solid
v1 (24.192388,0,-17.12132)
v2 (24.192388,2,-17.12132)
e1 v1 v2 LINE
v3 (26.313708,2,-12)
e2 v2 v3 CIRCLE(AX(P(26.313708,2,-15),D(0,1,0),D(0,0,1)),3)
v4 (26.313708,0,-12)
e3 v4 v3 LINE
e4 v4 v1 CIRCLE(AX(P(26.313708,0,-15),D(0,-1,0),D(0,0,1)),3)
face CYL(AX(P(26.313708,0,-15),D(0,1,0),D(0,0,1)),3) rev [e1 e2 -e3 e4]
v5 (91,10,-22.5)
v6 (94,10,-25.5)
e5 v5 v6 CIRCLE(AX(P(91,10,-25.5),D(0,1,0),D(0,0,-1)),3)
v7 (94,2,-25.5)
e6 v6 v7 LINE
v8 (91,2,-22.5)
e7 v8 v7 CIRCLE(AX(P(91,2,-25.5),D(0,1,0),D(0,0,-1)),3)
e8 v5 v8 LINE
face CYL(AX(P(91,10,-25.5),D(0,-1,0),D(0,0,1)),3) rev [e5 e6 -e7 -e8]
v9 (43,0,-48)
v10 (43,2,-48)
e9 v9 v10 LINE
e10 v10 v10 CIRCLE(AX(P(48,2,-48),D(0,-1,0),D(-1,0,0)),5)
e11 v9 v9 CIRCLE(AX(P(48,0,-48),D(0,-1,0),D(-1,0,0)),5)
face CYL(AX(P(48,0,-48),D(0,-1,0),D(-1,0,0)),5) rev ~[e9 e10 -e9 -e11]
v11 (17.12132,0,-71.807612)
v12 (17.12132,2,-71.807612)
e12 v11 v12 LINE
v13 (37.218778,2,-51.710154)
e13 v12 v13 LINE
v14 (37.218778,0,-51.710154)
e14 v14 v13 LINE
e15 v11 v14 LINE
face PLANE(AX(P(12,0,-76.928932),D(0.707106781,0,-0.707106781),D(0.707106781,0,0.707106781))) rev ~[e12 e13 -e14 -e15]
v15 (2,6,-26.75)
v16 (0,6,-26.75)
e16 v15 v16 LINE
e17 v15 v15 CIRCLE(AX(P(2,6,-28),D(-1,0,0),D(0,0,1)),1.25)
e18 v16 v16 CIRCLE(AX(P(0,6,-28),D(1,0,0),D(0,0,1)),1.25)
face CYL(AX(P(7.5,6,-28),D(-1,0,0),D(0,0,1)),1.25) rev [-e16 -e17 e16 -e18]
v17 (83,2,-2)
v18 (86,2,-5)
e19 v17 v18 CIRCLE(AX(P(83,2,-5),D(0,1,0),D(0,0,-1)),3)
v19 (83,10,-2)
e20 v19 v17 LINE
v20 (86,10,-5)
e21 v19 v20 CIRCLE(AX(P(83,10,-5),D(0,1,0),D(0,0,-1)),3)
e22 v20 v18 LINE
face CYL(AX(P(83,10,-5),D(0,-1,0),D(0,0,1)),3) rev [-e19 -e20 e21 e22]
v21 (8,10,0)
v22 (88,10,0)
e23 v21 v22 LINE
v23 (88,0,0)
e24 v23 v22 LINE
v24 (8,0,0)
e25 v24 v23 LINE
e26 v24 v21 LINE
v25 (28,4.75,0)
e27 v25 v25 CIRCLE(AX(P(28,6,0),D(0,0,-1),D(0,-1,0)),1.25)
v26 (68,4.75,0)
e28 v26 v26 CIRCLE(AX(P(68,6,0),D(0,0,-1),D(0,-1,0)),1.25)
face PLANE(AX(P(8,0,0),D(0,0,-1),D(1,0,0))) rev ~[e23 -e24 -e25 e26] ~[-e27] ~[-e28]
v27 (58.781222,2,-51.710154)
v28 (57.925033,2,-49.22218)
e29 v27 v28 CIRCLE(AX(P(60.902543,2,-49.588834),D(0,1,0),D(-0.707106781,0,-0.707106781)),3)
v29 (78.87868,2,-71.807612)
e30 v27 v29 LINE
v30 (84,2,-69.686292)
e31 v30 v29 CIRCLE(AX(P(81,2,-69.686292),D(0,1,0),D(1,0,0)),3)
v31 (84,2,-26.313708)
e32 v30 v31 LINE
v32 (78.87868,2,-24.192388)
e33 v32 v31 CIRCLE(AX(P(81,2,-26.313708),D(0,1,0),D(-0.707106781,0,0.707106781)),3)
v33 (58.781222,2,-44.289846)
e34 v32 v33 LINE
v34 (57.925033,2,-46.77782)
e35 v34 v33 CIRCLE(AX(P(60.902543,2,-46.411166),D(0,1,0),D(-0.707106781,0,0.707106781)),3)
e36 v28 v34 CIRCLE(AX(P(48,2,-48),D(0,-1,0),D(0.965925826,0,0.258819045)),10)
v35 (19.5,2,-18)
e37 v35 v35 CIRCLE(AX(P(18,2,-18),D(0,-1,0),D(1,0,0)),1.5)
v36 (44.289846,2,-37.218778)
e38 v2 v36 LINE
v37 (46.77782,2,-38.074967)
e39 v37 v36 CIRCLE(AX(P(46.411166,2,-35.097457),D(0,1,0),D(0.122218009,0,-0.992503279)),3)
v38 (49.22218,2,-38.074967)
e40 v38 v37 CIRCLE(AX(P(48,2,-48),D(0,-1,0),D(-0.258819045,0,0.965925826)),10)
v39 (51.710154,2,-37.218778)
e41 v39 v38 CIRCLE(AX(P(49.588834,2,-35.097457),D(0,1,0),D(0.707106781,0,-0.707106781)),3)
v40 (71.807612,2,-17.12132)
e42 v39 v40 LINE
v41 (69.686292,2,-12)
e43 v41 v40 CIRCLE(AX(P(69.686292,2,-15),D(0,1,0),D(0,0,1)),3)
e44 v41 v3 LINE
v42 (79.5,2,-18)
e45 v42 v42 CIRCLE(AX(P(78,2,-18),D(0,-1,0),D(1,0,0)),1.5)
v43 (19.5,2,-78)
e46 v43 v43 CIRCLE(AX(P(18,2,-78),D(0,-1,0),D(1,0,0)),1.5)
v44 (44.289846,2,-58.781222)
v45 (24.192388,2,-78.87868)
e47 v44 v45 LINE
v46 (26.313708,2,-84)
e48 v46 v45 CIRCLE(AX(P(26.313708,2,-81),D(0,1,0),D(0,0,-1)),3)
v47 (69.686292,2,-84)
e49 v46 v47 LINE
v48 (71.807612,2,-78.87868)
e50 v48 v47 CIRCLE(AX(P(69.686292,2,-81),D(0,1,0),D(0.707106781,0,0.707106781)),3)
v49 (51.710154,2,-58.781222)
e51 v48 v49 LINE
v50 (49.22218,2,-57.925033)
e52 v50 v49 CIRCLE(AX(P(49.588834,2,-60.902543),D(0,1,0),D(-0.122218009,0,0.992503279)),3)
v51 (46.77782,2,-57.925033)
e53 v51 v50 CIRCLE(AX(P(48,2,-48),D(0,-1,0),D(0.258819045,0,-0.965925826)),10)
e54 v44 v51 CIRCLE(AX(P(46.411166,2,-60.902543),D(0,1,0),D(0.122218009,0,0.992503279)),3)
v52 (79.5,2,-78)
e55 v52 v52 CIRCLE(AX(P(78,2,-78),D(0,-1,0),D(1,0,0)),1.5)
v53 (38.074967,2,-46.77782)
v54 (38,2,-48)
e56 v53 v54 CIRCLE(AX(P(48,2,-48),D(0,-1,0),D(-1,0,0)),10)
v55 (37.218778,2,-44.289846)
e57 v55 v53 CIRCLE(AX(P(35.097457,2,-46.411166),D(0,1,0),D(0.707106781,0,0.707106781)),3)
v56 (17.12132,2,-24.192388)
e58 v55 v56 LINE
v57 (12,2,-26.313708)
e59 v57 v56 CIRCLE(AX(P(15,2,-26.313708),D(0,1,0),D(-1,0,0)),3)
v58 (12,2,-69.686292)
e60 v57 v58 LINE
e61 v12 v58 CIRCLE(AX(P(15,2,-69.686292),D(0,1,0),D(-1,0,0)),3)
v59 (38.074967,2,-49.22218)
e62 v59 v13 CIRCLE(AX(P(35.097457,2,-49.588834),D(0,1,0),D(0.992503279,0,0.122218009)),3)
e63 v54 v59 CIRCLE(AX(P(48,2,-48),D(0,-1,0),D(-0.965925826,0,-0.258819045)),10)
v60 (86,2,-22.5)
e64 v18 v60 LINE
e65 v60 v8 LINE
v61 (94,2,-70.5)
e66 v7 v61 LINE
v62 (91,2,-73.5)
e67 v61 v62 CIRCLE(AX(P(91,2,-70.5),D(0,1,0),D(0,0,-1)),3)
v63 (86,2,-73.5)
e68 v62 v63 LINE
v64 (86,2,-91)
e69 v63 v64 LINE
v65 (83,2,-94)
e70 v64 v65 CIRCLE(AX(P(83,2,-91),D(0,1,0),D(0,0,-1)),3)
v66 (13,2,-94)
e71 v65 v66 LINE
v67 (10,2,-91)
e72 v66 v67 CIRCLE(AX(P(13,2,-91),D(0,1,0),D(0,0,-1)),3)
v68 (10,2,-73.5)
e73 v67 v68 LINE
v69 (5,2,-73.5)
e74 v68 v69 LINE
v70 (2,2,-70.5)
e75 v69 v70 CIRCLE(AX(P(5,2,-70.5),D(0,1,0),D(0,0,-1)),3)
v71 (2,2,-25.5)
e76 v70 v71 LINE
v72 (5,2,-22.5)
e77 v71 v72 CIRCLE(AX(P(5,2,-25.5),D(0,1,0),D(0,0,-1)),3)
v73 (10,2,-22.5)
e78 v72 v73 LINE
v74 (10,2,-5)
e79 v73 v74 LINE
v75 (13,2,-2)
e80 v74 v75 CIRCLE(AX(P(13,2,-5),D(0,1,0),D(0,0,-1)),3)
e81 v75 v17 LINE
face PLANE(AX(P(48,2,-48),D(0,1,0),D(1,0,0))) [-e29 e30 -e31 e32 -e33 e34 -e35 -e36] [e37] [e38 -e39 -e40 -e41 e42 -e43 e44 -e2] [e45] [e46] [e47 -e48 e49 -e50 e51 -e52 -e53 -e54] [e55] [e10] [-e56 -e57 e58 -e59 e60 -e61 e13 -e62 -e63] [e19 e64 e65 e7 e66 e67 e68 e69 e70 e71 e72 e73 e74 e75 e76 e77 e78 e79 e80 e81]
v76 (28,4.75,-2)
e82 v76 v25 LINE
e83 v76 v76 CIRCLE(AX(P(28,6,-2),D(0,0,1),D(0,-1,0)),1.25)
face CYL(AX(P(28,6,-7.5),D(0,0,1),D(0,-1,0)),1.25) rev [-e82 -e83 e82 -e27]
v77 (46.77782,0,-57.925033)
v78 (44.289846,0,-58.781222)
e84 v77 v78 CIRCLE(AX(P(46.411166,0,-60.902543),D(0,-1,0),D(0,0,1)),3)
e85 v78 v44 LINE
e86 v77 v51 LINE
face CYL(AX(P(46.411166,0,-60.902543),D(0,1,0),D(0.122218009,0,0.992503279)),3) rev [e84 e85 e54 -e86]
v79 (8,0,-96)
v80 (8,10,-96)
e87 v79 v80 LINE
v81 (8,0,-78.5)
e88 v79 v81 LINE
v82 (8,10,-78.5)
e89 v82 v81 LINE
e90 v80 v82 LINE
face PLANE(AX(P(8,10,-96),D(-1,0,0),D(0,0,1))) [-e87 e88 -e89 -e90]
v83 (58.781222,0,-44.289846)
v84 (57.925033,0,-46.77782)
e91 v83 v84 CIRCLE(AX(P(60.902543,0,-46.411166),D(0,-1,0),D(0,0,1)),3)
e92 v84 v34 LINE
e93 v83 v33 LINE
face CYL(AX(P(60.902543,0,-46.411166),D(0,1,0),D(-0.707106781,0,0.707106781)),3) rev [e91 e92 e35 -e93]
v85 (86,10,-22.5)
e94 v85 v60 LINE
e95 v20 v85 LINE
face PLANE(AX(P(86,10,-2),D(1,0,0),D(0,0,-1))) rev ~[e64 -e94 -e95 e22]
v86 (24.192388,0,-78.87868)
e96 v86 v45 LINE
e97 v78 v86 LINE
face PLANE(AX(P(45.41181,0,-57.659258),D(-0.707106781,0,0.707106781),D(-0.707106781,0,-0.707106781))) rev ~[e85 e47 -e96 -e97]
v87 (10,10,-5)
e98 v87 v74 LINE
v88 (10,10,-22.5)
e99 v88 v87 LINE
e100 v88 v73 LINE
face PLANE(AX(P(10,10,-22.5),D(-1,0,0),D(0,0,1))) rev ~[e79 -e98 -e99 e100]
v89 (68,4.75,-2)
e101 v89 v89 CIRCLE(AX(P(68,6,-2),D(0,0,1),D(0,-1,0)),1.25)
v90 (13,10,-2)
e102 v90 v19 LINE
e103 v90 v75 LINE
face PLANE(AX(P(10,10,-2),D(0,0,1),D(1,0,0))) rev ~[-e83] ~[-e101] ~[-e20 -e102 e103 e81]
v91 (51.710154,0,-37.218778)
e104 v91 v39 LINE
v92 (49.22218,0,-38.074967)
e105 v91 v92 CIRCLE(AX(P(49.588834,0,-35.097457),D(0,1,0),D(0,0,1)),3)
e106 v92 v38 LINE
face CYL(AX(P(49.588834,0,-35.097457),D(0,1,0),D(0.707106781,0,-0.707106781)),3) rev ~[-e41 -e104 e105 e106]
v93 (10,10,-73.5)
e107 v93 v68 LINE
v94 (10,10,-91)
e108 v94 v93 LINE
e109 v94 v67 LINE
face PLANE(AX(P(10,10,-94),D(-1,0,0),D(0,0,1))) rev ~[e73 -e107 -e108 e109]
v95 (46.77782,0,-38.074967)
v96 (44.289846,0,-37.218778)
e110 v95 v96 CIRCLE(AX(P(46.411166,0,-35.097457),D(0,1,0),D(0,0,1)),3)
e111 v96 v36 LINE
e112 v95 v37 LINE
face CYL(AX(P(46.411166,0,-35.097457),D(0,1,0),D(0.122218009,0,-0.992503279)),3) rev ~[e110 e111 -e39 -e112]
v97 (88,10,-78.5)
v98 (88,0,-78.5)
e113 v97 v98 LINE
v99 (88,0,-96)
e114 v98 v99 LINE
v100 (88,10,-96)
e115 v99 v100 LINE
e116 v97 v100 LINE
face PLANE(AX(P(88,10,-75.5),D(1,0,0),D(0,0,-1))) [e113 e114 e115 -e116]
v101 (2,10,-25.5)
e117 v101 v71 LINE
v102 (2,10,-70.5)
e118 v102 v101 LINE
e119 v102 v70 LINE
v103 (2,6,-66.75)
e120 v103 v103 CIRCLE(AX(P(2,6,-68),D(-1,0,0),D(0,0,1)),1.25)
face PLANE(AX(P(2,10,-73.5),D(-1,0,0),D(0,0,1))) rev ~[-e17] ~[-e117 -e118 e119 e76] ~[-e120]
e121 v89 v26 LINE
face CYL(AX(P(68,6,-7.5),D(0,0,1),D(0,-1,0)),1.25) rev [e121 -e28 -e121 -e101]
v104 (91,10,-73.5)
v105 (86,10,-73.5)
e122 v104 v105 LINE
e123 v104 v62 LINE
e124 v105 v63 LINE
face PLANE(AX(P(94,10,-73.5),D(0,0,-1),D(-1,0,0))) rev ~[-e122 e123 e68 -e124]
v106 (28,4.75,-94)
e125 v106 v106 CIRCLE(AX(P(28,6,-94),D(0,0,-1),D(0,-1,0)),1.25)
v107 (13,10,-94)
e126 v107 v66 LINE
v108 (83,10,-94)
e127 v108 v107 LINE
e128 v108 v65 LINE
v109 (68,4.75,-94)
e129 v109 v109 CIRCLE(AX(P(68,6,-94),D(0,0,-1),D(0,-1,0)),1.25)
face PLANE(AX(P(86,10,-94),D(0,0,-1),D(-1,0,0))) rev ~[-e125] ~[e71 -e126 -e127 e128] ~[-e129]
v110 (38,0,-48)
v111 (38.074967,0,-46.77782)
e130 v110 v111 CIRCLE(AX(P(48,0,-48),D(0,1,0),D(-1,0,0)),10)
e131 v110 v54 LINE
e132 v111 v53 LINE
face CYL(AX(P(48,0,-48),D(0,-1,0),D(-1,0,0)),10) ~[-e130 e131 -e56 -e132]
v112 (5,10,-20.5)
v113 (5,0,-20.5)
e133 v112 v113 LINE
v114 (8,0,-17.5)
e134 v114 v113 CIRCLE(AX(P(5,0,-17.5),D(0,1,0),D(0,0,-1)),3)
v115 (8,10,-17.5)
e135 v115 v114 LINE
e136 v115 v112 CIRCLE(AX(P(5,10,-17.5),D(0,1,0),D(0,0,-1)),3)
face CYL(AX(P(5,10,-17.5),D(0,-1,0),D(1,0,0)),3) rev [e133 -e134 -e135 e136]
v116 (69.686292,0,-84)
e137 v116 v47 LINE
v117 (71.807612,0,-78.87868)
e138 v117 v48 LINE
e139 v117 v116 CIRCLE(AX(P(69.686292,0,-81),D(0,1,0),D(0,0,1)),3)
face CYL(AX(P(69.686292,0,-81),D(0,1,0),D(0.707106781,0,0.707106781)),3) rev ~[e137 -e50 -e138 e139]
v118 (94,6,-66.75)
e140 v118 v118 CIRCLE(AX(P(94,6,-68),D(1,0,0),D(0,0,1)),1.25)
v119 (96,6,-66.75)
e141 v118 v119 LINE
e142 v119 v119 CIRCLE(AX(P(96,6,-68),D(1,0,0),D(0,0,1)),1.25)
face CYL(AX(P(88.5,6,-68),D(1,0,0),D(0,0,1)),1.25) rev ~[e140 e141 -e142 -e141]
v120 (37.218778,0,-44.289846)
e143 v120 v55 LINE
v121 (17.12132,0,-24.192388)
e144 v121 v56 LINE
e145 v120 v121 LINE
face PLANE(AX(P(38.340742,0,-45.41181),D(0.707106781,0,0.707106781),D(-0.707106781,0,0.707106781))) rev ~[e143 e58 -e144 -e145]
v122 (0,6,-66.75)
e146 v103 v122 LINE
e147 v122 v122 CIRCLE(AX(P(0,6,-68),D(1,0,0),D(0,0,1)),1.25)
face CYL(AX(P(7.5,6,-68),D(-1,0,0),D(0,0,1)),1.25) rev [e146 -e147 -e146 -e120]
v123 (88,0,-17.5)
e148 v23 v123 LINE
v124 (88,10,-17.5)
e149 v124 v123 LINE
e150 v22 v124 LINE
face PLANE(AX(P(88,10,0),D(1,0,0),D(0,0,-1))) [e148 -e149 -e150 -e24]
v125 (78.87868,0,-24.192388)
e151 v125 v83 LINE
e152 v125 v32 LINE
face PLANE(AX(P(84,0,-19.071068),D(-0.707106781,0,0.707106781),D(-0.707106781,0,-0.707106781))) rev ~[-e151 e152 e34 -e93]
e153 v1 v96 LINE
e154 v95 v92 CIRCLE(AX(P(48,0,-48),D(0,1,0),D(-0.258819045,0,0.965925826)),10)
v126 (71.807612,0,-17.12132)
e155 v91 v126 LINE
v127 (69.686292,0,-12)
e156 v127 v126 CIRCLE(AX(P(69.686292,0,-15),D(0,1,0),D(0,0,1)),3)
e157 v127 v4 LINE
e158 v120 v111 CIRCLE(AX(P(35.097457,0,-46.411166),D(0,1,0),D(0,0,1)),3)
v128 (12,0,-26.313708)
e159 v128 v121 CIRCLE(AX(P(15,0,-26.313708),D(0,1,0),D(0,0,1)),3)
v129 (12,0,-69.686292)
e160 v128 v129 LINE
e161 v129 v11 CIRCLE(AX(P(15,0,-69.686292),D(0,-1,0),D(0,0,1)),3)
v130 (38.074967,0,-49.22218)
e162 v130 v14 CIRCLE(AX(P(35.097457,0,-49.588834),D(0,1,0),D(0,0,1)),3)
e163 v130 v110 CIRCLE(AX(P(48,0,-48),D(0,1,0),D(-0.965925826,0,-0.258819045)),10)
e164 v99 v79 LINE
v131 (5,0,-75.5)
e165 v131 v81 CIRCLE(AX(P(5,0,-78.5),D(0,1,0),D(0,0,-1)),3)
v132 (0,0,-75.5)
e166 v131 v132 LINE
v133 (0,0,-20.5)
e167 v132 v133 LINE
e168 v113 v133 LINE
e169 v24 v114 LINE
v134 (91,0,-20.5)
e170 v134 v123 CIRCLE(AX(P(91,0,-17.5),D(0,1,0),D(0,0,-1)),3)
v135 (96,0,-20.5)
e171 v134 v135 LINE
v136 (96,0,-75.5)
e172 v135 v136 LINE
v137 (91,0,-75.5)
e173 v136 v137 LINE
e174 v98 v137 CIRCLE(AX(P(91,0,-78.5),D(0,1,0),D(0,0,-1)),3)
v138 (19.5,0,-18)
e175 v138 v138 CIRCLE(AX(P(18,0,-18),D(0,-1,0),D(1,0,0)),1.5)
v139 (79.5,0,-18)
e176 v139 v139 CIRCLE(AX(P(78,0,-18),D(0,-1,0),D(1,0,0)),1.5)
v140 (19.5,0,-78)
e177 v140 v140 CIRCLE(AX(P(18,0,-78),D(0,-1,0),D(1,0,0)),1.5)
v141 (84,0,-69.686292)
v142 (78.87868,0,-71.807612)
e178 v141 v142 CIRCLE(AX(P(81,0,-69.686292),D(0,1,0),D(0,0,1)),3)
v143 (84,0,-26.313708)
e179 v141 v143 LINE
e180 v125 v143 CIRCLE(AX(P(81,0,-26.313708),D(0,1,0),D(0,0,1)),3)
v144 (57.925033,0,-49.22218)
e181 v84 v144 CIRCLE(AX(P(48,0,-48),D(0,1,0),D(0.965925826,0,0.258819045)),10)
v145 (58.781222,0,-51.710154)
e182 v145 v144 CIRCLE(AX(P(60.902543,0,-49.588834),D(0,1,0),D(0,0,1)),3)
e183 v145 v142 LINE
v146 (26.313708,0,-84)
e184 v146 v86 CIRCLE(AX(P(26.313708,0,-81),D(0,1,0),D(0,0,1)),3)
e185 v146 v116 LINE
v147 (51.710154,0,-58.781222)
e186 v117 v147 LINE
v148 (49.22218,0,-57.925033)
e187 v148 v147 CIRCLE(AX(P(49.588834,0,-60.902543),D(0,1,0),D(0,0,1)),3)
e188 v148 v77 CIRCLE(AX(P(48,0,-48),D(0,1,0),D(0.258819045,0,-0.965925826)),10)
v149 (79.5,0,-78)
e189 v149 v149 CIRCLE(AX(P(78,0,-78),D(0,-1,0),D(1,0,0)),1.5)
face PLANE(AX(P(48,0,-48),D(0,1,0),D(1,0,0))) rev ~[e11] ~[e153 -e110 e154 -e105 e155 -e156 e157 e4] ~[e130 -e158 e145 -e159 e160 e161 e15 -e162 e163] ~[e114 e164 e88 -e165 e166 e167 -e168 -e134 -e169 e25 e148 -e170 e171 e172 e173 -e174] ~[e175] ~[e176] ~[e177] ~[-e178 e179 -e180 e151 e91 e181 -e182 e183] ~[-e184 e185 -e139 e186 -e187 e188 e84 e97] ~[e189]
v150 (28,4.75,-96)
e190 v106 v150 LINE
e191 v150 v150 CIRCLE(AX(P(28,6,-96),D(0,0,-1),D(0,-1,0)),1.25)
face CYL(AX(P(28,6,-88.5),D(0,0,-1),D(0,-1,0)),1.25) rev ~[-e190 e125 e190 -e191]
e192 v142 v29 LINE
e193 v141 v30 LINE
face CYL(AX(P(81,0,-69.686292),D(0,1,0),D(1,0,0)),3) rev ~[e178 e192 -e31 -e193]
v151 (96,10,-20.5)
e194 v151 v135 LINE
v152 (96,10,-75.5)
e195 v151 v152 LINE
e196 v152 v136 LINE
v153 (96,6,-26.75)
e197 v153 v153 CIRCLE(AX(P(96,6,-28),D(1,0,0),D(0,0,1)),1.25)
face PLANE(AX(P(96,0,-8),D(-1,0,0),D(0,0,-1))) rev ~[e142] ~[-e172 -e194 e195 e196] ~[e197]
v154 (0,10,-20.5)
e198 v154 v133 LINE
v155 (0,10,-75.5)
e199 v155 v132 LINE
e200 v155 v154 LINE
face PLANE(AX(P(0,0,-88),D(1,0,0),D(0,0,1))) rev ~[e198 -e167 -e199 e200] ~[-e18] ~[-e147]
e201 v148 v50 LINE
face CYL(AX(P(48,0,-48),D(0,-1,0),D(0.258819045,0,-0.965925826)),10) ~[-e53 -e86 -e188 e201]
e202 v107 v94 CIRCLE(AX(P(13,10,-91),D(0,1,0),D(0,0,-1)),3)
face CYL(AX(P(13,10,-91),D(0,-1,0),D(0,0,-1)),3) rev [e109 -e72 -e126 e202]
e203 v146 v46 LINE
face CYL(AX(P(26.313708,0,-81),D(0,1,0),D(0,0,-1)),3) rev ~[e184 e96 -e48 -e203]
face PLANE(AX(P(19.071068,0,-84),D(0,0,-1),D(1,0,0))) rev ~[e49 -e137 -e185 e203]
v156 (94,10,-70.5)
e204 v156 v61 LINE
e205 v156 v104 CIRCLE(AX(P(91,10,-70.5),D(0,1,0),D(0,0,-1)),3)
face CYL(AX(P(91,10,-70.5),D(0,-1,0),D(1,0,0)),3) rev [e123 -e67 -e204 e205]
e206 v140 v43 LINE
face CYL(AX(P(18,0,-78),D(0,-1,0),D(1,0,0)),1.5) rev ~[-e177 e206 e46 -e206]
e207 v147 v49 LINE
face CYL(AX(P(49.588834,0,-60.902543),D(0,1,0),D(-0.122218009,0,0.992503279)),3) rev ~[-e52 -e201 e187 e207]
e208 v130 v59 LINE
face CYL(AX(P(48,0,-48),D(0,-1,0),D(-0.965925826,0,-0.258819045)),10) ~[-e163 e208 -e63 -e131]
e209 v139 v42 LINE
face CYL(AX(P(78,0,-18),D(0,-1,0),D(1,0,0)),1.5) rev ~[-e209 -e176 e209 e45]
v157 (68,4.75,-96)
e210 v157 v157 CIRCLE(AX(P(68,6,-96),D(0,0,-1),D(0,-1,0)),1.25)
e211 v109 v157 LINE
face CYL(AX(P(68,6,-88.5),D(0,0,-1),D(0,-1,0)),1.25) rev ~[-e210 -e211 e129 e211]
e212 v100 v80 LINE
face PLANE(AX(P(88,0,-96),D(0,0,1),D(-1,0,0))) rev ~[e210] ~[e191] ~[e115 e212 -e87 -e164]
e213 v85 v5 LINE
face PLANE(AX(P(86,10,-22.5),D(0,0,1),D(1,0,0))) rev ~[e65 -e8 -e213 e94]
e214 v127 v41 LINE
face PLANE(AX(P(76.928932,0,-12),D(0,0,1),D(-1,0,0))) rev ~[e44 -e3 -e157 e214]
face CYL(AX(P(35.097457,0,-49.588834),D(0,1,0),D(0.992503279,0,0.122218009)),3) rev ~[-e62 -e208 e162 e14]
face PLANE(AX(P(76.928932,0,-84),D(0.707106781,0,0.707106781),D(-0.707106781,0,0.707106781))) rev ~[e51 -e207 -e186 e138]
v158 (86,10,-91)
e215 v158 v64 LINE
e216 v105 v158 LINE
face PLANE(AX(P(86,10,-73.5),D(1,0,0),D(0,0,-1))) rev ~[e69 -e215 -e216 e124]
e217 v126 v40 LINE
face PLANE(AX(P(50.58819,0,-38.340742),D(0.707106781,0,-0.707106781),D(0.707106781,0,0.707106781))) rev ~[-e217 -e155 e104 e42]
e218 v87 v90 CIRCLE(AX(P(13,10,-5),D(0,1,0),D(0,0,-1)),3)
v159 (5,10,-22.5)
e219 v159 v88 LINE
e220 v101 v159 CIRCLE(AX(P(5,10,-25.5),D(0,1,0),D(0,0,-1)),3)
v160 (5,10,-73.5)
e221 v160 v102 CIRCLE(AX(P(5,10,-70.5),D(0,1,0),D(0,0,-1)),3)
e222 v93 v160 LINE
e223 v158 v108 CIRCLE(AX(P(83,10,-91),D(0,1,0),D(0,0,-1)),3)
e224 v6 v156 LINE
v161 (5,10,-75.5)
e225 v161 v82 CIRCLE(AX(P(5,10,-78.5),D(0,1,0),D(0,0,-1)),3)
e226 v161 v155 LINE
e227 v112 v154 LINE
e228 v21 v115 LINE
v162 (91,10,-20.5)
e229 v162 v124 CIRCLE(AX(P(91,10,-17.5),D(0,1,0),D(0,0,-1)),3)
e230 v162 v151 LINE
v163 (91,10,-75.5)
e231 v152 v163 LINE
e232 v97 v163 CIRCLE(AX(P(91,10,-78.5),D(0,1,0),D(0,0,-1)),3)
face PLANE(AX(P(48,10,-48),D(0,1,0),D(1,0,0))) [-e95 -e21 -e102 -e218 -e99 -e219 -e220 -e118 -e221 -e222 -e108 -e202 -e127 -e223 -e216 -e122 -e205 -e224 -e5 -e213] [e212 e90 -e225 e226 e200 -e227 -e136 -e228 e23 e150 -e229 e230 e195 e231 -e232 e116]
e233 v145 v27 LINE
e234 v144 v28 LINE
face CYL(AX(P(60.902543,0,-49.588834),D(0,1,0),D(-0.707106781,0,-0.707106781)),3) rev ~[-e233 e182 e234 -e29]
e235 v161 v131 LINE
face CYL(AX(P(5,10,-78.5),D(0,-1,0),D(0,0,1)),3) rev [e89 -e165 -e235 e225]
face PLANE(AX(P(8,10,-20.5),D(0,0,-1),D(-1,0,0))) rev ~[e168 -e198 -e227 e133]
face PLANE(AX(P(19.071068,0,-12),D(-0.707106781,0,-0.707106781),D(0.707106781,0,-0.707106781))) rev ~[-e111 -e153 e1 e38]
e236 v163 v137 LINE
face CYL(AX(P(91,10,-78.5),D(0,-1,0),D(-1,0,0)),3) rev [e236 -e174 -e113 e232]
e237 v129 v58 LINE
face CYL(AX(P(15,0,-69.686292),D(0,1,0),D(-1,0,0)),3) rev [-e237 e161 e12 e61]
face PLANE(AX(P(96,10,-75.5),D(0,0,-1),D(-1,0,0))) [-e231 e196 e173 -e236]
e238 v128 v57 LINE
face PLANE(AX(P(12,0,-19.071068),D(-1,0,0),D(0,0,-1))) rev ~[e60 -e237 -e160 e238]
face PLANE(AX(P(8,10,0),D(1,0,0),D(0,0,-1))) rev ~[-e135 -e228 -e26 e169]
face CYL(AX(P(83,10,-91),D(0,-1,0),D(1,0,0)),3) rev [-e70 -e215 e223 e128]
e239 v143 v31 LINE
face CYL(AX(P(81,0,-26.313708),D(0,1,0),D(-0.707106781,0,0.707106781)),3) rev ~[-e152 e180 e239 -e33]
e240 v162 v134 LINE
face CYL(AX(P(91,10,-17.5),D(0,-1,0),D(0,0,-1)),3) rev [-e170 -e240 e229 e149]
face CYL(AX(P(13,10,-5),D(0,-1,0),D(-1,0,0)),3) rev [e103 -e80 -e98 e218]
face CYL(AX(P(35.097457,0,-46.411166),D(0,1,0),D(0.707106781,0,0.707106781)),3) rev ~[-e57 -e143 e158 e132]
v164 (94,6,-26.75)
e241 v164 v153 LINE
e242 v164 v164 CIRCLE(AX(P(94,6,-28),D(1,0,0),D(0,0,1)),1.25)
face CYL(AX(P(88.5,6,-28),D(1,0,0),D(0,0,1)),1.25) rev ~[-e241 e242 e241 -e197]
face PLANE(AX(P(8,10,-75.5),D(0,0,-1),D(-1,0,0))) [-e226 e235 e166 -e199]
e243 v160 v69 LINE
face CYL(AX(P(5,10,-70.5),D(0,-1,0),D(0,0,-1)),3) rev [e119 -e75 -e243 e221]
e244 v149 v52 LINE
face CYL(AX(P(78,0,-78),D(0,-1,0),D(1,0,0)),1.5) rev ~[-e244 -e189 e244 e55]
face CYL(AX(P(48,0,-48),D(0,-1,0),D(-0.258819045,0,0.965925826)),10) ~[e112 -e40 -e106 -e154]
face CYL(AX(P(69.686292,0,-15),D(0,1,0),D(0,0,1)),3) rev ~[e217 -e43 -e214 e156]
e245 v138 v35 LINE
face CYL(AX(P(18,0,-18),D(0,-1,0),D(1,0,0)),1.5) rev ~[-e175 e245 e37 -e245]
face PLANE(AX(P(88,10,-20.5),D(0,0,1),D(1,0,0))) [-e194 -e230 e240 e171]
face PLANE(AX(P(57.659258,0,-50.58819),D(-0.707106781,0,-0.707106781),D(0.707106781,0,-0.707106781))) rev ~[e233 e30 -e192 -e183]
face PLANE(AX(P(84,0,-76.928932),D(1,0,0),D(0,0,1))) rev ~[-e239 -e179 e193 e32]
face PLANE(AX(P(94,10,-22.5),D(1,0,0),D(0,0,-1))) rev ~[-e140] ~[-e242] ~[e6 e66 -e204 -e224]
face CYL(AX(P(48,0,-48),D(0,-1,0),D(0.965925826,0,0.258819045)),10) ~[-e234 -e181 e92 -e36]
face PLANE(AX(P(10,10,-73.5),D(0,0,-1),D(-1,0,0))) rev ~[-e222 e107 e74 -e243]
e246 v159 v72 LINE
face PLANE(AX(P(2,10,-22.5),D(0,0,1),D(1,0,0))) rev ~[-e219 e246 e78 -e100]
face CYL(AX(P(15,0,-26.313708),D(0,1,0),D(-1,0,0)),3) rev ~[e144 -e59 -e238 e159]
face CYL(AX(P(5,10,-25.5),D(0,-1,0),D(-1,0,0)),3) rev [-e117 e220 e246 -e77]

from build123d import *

# Parameters (mm, degrees)
BOSS_EXTRUDE1_DEPTH            = 10
SKETCH2_R                      = 5
CUT_EXTRUDE1_DEPTH             = 11
FILLET1_R                      = 3
CUT_EXTRUDE4_DEPTH             = 11
CUT_EXTRUDE5_DEPTH             = 8
FILLET2_R                      = 3
SKETCH7_R                      = 1.5
CUT_EXTRUDE6_DEPTH             = 10
M3X0_5_TAPPED_HOLE1_AT_2_COUNT = 2
M3X0_5_TAPPED_HOLE1_AT_2_PITCH = 40
M3X0_5_TAPPED_HOLE2_AT_2_COUNT = 2
M3X0_5_TAPPED_HOLE2_AT_2_PITCH = 40


with BuildPart() as part:
    # Sketch1 → Boss-Extrude1 (new body)
    with BuildSketch(Plane(origin=(0, 0, 0), x_dir=(1, 0, 0), z_dir=(0, 1, 0))):
        Polygon((0, 88), (0, 8), (8, 0), (88, 0), (96, 8), (96, 88), (88, 96), (8, 96), align=None)
    extrude(amount=BOSS_EXTRUDE1_DEPTH)

    # Sketch2 → Cut-Extrude1 (cut, through all)
    with BuildSketch(Plane(origin=(0, 0, 0), x_dir=(-1, 0, 0), z_dir=(0, -1, 0))):
        with BuildLine():
            Line((-45.411809549, 57.659258263), (-19.071067812, 84))
            Line((-19.071067812, 84), (-76.928932188, 84))
            Line((-76.928932188, 84), (-50.588190451, 57.659258263))
            ThreePointArc((-50.588190451, 57.659258263), (-48, 58), (-45.411809549, 57.659258263))
        make_face()
        with BuildLine():
            Line((-12, 76.928932188), (-38.340741737, 50.588190451))
            ThreePointArc((-38.340741737, 50.588190451), (-38.085551386, 49.305261922), (-38, 48))
            ThreePointArc((-38, 48), (-38.085551386, 46.694738078), (-38.340741737, 45.411809549))
            Line((-38.340741737, 45.411809549), (-12, 19.071067812))
            Line((-12, 19.071067812), (-12, 76.928932188))
        make_face()
        with BuildLine():
            Line((-19.071067812, 12), (-45.411809549, 38.340741737))
            ThreePointArc((-45.411809549, 38.340741737), (-48, 38), (-50.588190451, 38.340741737))
            Line((-50.588190451, 38.340741737), (-76.928932188, 12))
            Line((-76.928932188, 12), (-19.071067812, 12))
        make_face()
        with BuildLine():
            ThreePointArc((-57.659258263, 45.411809549), (-58, 48), (-57.659258263, 50.588190451))
            Line((-57.659258263, 50.588190451), (-84, 76.928932188))
            Line((-84, 76.928932188), (-84, 19.071067812))
            Line((-84, 19.071067812), (-57.659258263, 45.411809549))
        make_face()
        with Locations((-48, 48)):
            Circle(SKETCH2_R)
    extrude(amount=-CUT_EXTRUDE1_DEPTH, mode=Mode.SUBTRACT)

    # Fillet1
    fillet1_edges = [part.edges().sort_by_distance(p)[0] for p in [
        (50.588190451, 5, -38.340741737),
        (45.411809549, 5, -38.340741737),
        (19.071067812, 5, -12),
        (76.928932188, 5, -12),
        (38.340741737, 5, -45.411809549),
        (38.340741737, 5, -50.588190451),
        (12, 5, -76.928932188),
        (12, 5, -19.071067812),
        (57.659258263, 5, -50.588190451),
        (57.659258263, 5, -45.411809549),
        (84, 5, -19.071067812),
        (84, 5, -76.928932188),
        (45.411809549, 5, -57.659258263),
        (50.588190451, 5, -57.659258263),
        (76.928932188, 5, -84),
        (19.071067812, 5, -84),
    ]]
    fillet(fillet1_edges, radius=FILLET1_R)

    # Sketch5 → Cut-Extrude4 (cut, through all)
    with BuildSketch(Plane(origin=(0, 10, 0), x_dir=(1, 0, 0), z_dir=(0, 1, 0))):
        Polygon((8, 0), (8, 20.5), (0, 20.5), (0, 8), align=None)
        Polygon((96, 8), (88, 0), (88, 20.5), (96, 20.5), align=None)
        Polygon((96, 75.5), (88, 75.5), (88, 96), (96, 88), align=None)
        Polygon((8, 96), (8, 75.5), (0, 75.5), (0, 88), align=None)
    extrude(amount=-CUT_EXTRUDE4_DEPTH, mode=Mode.SUBTRACT)

    # Sketch6 → Cut-Extrude5 (cut)
    with BuildSketch(Plane(origin=(0, 10, 0), x_dir=(1, 0, 0), z_dir=(0, 1, 0))):
        Polygon((86, 73.5), (86, 94), (10, 94), (10, 73.5), (2, 73.5), (2, 22.5), (10, 22.5), (10, 2), (86, 2), (86, 22.5), (94, 22.5), (94, 73.5), align=None)
    extrude(amount=-CUT_EXTRUDE5_DEPTH, mode=Mode.SUBTRACT)

    # Fillet2
    fillet2_edges = [part.edges().sort_by_distance(p)[0] for p in [
        (8, 5, -75.5),
        (88, 5, -75.5),
        (88, 5, -20.5),
        (8, 5, -20.5),
        (94, 6, -73.5),
        (94, 6, -22.5),
        (86, 6, -2),
        (10, 6, -2),
        (2, 6, -22.5),
        (2, 6, -73.5),
        (10, 6, -94),
        (86, 6, -94),
    ]]
    fillet(fillet2_edges, radius=FILLET2_R)

    # Sketch7 → Cut-Extrude6 (cut)
    with BuildSketch(Plane.XZ):
        with Locations((78, -18)):
            Circle(SKETCH7_R)
        with Locations((18, -18)):
            Circle(SKETCH7_R)
        with Locations((18, -78)):
            Circle(SKETCH7_R)
        with Locations((78, -78)):
            Circle(SKETCH7_R)
    extrude(amount=-CUT_EXTRUDE6_DEPTH, mode=Mode.SUBTRACT)

    # Sketch13 → M3x0.5 Tapped Hole1 (revolve, cut)
    with BuildSketch(Plane(origin=(28, 6, 0), x_dir=(0, -1, 0), z_dir=(1, 0, 0))):
        Polygon((0, 0), (0, 8.251075774), (1.25, 7.5), (1.25, 0), align=None)
    m3x0_5_tapped_hole1 = revolve(axis=Axis((28, 6, 6.35), (0, 0, -1)), mode=Mode.SUBTRACT)

    # M3x0.5 Tapped Hole1 at 2: M3x0.5 Tapped Hole1 ×2
    with Locations(*[(i * M3X0_5_TAPPED_HOLE1_AT_2_PITCH, 0, 0) for i in range(1, M3X0_5_TAPPED_HOLE1_AT_2_COUNT)]):
        add(m3x0_5_tapped_hole1, mode=Mode.SUBTRACT)

    # Sketch15 → M3x0.5 Tapped Hole2 (revolve, cut)
    with BuildSketch(Plane(origin=(0, 6, -68), x_dir=(0, 0, 1), z_dir=(0, 1, 0))):
        Polygon((0, 0), (0, 8.251075774), (1.25, 7.5), (1.25, 0), align=None)
    m3x0_5_tapped_hole2 = revolve(axis=Axis((-6.35, 6, -68), (1, 0, 0)), mode=Mode.SUBTRACT)

    # M3x0.5 Tapped Hole2 at 2: M3x0.5 Tapped Hole2 ×2
    with Locations(*[(0, 0, i * M3X0_5_TAPPED_HOLE2_AT_2_PITCH) for i in range(1, M3X0_5_TAPPED_HOLE2_AT_2_COUNT)]):
        add(m3x0_5_tapped_hole2, mode=Mode.SUBTRACT)

    # Mirror1: M3x0.5 Tapped Hole1 across plane
    add(m3x0_5_tapped_hole1.mirror(Plane.XY.offset(-48)), mode=Mode.SUBTRACT)

    # Mirror1 copy 1 sketch → Mirror1 copy 1 (revolve, cut)
    with BuildSketch(Plane(origin=(68, 6, -96), x_dir=(0, -1, 0), z_dir=(1, 0, 0))):
        Polygon((0, 0), (0, -8.251075774), (1.25, -7.5), (1.25, 0), align=None)
    revolve(axis=Axis((68, 6, -102.35), (0, 0, -1)), mode=Mode.SUBTRACT)

    # Mirror2: M3x0.5 Tapped Hole2 across plane
    add(m3x0_5_tapped_hole2.mirror(Plane.ZY.offset(-48)), mode=Mode.SUBTRACT)

    # Mirror2 copy 1 sketch → Mirror2 copy 1 (revolve, cut)
    with BuildSketch(Plane(origin=(96, 6, -28), x_dir=(0, 0, 1), z_dir=(0, 1, 0))):
        Polygon((0, 0), (0, -8.251075774), (1.25, -7.5), (1.25, 0), align=None)
    revolve(axis=Axis((102.35, 6, -28), (1, 0, 0)), mode=Mode.SUBTRACT)


solid = part.part
